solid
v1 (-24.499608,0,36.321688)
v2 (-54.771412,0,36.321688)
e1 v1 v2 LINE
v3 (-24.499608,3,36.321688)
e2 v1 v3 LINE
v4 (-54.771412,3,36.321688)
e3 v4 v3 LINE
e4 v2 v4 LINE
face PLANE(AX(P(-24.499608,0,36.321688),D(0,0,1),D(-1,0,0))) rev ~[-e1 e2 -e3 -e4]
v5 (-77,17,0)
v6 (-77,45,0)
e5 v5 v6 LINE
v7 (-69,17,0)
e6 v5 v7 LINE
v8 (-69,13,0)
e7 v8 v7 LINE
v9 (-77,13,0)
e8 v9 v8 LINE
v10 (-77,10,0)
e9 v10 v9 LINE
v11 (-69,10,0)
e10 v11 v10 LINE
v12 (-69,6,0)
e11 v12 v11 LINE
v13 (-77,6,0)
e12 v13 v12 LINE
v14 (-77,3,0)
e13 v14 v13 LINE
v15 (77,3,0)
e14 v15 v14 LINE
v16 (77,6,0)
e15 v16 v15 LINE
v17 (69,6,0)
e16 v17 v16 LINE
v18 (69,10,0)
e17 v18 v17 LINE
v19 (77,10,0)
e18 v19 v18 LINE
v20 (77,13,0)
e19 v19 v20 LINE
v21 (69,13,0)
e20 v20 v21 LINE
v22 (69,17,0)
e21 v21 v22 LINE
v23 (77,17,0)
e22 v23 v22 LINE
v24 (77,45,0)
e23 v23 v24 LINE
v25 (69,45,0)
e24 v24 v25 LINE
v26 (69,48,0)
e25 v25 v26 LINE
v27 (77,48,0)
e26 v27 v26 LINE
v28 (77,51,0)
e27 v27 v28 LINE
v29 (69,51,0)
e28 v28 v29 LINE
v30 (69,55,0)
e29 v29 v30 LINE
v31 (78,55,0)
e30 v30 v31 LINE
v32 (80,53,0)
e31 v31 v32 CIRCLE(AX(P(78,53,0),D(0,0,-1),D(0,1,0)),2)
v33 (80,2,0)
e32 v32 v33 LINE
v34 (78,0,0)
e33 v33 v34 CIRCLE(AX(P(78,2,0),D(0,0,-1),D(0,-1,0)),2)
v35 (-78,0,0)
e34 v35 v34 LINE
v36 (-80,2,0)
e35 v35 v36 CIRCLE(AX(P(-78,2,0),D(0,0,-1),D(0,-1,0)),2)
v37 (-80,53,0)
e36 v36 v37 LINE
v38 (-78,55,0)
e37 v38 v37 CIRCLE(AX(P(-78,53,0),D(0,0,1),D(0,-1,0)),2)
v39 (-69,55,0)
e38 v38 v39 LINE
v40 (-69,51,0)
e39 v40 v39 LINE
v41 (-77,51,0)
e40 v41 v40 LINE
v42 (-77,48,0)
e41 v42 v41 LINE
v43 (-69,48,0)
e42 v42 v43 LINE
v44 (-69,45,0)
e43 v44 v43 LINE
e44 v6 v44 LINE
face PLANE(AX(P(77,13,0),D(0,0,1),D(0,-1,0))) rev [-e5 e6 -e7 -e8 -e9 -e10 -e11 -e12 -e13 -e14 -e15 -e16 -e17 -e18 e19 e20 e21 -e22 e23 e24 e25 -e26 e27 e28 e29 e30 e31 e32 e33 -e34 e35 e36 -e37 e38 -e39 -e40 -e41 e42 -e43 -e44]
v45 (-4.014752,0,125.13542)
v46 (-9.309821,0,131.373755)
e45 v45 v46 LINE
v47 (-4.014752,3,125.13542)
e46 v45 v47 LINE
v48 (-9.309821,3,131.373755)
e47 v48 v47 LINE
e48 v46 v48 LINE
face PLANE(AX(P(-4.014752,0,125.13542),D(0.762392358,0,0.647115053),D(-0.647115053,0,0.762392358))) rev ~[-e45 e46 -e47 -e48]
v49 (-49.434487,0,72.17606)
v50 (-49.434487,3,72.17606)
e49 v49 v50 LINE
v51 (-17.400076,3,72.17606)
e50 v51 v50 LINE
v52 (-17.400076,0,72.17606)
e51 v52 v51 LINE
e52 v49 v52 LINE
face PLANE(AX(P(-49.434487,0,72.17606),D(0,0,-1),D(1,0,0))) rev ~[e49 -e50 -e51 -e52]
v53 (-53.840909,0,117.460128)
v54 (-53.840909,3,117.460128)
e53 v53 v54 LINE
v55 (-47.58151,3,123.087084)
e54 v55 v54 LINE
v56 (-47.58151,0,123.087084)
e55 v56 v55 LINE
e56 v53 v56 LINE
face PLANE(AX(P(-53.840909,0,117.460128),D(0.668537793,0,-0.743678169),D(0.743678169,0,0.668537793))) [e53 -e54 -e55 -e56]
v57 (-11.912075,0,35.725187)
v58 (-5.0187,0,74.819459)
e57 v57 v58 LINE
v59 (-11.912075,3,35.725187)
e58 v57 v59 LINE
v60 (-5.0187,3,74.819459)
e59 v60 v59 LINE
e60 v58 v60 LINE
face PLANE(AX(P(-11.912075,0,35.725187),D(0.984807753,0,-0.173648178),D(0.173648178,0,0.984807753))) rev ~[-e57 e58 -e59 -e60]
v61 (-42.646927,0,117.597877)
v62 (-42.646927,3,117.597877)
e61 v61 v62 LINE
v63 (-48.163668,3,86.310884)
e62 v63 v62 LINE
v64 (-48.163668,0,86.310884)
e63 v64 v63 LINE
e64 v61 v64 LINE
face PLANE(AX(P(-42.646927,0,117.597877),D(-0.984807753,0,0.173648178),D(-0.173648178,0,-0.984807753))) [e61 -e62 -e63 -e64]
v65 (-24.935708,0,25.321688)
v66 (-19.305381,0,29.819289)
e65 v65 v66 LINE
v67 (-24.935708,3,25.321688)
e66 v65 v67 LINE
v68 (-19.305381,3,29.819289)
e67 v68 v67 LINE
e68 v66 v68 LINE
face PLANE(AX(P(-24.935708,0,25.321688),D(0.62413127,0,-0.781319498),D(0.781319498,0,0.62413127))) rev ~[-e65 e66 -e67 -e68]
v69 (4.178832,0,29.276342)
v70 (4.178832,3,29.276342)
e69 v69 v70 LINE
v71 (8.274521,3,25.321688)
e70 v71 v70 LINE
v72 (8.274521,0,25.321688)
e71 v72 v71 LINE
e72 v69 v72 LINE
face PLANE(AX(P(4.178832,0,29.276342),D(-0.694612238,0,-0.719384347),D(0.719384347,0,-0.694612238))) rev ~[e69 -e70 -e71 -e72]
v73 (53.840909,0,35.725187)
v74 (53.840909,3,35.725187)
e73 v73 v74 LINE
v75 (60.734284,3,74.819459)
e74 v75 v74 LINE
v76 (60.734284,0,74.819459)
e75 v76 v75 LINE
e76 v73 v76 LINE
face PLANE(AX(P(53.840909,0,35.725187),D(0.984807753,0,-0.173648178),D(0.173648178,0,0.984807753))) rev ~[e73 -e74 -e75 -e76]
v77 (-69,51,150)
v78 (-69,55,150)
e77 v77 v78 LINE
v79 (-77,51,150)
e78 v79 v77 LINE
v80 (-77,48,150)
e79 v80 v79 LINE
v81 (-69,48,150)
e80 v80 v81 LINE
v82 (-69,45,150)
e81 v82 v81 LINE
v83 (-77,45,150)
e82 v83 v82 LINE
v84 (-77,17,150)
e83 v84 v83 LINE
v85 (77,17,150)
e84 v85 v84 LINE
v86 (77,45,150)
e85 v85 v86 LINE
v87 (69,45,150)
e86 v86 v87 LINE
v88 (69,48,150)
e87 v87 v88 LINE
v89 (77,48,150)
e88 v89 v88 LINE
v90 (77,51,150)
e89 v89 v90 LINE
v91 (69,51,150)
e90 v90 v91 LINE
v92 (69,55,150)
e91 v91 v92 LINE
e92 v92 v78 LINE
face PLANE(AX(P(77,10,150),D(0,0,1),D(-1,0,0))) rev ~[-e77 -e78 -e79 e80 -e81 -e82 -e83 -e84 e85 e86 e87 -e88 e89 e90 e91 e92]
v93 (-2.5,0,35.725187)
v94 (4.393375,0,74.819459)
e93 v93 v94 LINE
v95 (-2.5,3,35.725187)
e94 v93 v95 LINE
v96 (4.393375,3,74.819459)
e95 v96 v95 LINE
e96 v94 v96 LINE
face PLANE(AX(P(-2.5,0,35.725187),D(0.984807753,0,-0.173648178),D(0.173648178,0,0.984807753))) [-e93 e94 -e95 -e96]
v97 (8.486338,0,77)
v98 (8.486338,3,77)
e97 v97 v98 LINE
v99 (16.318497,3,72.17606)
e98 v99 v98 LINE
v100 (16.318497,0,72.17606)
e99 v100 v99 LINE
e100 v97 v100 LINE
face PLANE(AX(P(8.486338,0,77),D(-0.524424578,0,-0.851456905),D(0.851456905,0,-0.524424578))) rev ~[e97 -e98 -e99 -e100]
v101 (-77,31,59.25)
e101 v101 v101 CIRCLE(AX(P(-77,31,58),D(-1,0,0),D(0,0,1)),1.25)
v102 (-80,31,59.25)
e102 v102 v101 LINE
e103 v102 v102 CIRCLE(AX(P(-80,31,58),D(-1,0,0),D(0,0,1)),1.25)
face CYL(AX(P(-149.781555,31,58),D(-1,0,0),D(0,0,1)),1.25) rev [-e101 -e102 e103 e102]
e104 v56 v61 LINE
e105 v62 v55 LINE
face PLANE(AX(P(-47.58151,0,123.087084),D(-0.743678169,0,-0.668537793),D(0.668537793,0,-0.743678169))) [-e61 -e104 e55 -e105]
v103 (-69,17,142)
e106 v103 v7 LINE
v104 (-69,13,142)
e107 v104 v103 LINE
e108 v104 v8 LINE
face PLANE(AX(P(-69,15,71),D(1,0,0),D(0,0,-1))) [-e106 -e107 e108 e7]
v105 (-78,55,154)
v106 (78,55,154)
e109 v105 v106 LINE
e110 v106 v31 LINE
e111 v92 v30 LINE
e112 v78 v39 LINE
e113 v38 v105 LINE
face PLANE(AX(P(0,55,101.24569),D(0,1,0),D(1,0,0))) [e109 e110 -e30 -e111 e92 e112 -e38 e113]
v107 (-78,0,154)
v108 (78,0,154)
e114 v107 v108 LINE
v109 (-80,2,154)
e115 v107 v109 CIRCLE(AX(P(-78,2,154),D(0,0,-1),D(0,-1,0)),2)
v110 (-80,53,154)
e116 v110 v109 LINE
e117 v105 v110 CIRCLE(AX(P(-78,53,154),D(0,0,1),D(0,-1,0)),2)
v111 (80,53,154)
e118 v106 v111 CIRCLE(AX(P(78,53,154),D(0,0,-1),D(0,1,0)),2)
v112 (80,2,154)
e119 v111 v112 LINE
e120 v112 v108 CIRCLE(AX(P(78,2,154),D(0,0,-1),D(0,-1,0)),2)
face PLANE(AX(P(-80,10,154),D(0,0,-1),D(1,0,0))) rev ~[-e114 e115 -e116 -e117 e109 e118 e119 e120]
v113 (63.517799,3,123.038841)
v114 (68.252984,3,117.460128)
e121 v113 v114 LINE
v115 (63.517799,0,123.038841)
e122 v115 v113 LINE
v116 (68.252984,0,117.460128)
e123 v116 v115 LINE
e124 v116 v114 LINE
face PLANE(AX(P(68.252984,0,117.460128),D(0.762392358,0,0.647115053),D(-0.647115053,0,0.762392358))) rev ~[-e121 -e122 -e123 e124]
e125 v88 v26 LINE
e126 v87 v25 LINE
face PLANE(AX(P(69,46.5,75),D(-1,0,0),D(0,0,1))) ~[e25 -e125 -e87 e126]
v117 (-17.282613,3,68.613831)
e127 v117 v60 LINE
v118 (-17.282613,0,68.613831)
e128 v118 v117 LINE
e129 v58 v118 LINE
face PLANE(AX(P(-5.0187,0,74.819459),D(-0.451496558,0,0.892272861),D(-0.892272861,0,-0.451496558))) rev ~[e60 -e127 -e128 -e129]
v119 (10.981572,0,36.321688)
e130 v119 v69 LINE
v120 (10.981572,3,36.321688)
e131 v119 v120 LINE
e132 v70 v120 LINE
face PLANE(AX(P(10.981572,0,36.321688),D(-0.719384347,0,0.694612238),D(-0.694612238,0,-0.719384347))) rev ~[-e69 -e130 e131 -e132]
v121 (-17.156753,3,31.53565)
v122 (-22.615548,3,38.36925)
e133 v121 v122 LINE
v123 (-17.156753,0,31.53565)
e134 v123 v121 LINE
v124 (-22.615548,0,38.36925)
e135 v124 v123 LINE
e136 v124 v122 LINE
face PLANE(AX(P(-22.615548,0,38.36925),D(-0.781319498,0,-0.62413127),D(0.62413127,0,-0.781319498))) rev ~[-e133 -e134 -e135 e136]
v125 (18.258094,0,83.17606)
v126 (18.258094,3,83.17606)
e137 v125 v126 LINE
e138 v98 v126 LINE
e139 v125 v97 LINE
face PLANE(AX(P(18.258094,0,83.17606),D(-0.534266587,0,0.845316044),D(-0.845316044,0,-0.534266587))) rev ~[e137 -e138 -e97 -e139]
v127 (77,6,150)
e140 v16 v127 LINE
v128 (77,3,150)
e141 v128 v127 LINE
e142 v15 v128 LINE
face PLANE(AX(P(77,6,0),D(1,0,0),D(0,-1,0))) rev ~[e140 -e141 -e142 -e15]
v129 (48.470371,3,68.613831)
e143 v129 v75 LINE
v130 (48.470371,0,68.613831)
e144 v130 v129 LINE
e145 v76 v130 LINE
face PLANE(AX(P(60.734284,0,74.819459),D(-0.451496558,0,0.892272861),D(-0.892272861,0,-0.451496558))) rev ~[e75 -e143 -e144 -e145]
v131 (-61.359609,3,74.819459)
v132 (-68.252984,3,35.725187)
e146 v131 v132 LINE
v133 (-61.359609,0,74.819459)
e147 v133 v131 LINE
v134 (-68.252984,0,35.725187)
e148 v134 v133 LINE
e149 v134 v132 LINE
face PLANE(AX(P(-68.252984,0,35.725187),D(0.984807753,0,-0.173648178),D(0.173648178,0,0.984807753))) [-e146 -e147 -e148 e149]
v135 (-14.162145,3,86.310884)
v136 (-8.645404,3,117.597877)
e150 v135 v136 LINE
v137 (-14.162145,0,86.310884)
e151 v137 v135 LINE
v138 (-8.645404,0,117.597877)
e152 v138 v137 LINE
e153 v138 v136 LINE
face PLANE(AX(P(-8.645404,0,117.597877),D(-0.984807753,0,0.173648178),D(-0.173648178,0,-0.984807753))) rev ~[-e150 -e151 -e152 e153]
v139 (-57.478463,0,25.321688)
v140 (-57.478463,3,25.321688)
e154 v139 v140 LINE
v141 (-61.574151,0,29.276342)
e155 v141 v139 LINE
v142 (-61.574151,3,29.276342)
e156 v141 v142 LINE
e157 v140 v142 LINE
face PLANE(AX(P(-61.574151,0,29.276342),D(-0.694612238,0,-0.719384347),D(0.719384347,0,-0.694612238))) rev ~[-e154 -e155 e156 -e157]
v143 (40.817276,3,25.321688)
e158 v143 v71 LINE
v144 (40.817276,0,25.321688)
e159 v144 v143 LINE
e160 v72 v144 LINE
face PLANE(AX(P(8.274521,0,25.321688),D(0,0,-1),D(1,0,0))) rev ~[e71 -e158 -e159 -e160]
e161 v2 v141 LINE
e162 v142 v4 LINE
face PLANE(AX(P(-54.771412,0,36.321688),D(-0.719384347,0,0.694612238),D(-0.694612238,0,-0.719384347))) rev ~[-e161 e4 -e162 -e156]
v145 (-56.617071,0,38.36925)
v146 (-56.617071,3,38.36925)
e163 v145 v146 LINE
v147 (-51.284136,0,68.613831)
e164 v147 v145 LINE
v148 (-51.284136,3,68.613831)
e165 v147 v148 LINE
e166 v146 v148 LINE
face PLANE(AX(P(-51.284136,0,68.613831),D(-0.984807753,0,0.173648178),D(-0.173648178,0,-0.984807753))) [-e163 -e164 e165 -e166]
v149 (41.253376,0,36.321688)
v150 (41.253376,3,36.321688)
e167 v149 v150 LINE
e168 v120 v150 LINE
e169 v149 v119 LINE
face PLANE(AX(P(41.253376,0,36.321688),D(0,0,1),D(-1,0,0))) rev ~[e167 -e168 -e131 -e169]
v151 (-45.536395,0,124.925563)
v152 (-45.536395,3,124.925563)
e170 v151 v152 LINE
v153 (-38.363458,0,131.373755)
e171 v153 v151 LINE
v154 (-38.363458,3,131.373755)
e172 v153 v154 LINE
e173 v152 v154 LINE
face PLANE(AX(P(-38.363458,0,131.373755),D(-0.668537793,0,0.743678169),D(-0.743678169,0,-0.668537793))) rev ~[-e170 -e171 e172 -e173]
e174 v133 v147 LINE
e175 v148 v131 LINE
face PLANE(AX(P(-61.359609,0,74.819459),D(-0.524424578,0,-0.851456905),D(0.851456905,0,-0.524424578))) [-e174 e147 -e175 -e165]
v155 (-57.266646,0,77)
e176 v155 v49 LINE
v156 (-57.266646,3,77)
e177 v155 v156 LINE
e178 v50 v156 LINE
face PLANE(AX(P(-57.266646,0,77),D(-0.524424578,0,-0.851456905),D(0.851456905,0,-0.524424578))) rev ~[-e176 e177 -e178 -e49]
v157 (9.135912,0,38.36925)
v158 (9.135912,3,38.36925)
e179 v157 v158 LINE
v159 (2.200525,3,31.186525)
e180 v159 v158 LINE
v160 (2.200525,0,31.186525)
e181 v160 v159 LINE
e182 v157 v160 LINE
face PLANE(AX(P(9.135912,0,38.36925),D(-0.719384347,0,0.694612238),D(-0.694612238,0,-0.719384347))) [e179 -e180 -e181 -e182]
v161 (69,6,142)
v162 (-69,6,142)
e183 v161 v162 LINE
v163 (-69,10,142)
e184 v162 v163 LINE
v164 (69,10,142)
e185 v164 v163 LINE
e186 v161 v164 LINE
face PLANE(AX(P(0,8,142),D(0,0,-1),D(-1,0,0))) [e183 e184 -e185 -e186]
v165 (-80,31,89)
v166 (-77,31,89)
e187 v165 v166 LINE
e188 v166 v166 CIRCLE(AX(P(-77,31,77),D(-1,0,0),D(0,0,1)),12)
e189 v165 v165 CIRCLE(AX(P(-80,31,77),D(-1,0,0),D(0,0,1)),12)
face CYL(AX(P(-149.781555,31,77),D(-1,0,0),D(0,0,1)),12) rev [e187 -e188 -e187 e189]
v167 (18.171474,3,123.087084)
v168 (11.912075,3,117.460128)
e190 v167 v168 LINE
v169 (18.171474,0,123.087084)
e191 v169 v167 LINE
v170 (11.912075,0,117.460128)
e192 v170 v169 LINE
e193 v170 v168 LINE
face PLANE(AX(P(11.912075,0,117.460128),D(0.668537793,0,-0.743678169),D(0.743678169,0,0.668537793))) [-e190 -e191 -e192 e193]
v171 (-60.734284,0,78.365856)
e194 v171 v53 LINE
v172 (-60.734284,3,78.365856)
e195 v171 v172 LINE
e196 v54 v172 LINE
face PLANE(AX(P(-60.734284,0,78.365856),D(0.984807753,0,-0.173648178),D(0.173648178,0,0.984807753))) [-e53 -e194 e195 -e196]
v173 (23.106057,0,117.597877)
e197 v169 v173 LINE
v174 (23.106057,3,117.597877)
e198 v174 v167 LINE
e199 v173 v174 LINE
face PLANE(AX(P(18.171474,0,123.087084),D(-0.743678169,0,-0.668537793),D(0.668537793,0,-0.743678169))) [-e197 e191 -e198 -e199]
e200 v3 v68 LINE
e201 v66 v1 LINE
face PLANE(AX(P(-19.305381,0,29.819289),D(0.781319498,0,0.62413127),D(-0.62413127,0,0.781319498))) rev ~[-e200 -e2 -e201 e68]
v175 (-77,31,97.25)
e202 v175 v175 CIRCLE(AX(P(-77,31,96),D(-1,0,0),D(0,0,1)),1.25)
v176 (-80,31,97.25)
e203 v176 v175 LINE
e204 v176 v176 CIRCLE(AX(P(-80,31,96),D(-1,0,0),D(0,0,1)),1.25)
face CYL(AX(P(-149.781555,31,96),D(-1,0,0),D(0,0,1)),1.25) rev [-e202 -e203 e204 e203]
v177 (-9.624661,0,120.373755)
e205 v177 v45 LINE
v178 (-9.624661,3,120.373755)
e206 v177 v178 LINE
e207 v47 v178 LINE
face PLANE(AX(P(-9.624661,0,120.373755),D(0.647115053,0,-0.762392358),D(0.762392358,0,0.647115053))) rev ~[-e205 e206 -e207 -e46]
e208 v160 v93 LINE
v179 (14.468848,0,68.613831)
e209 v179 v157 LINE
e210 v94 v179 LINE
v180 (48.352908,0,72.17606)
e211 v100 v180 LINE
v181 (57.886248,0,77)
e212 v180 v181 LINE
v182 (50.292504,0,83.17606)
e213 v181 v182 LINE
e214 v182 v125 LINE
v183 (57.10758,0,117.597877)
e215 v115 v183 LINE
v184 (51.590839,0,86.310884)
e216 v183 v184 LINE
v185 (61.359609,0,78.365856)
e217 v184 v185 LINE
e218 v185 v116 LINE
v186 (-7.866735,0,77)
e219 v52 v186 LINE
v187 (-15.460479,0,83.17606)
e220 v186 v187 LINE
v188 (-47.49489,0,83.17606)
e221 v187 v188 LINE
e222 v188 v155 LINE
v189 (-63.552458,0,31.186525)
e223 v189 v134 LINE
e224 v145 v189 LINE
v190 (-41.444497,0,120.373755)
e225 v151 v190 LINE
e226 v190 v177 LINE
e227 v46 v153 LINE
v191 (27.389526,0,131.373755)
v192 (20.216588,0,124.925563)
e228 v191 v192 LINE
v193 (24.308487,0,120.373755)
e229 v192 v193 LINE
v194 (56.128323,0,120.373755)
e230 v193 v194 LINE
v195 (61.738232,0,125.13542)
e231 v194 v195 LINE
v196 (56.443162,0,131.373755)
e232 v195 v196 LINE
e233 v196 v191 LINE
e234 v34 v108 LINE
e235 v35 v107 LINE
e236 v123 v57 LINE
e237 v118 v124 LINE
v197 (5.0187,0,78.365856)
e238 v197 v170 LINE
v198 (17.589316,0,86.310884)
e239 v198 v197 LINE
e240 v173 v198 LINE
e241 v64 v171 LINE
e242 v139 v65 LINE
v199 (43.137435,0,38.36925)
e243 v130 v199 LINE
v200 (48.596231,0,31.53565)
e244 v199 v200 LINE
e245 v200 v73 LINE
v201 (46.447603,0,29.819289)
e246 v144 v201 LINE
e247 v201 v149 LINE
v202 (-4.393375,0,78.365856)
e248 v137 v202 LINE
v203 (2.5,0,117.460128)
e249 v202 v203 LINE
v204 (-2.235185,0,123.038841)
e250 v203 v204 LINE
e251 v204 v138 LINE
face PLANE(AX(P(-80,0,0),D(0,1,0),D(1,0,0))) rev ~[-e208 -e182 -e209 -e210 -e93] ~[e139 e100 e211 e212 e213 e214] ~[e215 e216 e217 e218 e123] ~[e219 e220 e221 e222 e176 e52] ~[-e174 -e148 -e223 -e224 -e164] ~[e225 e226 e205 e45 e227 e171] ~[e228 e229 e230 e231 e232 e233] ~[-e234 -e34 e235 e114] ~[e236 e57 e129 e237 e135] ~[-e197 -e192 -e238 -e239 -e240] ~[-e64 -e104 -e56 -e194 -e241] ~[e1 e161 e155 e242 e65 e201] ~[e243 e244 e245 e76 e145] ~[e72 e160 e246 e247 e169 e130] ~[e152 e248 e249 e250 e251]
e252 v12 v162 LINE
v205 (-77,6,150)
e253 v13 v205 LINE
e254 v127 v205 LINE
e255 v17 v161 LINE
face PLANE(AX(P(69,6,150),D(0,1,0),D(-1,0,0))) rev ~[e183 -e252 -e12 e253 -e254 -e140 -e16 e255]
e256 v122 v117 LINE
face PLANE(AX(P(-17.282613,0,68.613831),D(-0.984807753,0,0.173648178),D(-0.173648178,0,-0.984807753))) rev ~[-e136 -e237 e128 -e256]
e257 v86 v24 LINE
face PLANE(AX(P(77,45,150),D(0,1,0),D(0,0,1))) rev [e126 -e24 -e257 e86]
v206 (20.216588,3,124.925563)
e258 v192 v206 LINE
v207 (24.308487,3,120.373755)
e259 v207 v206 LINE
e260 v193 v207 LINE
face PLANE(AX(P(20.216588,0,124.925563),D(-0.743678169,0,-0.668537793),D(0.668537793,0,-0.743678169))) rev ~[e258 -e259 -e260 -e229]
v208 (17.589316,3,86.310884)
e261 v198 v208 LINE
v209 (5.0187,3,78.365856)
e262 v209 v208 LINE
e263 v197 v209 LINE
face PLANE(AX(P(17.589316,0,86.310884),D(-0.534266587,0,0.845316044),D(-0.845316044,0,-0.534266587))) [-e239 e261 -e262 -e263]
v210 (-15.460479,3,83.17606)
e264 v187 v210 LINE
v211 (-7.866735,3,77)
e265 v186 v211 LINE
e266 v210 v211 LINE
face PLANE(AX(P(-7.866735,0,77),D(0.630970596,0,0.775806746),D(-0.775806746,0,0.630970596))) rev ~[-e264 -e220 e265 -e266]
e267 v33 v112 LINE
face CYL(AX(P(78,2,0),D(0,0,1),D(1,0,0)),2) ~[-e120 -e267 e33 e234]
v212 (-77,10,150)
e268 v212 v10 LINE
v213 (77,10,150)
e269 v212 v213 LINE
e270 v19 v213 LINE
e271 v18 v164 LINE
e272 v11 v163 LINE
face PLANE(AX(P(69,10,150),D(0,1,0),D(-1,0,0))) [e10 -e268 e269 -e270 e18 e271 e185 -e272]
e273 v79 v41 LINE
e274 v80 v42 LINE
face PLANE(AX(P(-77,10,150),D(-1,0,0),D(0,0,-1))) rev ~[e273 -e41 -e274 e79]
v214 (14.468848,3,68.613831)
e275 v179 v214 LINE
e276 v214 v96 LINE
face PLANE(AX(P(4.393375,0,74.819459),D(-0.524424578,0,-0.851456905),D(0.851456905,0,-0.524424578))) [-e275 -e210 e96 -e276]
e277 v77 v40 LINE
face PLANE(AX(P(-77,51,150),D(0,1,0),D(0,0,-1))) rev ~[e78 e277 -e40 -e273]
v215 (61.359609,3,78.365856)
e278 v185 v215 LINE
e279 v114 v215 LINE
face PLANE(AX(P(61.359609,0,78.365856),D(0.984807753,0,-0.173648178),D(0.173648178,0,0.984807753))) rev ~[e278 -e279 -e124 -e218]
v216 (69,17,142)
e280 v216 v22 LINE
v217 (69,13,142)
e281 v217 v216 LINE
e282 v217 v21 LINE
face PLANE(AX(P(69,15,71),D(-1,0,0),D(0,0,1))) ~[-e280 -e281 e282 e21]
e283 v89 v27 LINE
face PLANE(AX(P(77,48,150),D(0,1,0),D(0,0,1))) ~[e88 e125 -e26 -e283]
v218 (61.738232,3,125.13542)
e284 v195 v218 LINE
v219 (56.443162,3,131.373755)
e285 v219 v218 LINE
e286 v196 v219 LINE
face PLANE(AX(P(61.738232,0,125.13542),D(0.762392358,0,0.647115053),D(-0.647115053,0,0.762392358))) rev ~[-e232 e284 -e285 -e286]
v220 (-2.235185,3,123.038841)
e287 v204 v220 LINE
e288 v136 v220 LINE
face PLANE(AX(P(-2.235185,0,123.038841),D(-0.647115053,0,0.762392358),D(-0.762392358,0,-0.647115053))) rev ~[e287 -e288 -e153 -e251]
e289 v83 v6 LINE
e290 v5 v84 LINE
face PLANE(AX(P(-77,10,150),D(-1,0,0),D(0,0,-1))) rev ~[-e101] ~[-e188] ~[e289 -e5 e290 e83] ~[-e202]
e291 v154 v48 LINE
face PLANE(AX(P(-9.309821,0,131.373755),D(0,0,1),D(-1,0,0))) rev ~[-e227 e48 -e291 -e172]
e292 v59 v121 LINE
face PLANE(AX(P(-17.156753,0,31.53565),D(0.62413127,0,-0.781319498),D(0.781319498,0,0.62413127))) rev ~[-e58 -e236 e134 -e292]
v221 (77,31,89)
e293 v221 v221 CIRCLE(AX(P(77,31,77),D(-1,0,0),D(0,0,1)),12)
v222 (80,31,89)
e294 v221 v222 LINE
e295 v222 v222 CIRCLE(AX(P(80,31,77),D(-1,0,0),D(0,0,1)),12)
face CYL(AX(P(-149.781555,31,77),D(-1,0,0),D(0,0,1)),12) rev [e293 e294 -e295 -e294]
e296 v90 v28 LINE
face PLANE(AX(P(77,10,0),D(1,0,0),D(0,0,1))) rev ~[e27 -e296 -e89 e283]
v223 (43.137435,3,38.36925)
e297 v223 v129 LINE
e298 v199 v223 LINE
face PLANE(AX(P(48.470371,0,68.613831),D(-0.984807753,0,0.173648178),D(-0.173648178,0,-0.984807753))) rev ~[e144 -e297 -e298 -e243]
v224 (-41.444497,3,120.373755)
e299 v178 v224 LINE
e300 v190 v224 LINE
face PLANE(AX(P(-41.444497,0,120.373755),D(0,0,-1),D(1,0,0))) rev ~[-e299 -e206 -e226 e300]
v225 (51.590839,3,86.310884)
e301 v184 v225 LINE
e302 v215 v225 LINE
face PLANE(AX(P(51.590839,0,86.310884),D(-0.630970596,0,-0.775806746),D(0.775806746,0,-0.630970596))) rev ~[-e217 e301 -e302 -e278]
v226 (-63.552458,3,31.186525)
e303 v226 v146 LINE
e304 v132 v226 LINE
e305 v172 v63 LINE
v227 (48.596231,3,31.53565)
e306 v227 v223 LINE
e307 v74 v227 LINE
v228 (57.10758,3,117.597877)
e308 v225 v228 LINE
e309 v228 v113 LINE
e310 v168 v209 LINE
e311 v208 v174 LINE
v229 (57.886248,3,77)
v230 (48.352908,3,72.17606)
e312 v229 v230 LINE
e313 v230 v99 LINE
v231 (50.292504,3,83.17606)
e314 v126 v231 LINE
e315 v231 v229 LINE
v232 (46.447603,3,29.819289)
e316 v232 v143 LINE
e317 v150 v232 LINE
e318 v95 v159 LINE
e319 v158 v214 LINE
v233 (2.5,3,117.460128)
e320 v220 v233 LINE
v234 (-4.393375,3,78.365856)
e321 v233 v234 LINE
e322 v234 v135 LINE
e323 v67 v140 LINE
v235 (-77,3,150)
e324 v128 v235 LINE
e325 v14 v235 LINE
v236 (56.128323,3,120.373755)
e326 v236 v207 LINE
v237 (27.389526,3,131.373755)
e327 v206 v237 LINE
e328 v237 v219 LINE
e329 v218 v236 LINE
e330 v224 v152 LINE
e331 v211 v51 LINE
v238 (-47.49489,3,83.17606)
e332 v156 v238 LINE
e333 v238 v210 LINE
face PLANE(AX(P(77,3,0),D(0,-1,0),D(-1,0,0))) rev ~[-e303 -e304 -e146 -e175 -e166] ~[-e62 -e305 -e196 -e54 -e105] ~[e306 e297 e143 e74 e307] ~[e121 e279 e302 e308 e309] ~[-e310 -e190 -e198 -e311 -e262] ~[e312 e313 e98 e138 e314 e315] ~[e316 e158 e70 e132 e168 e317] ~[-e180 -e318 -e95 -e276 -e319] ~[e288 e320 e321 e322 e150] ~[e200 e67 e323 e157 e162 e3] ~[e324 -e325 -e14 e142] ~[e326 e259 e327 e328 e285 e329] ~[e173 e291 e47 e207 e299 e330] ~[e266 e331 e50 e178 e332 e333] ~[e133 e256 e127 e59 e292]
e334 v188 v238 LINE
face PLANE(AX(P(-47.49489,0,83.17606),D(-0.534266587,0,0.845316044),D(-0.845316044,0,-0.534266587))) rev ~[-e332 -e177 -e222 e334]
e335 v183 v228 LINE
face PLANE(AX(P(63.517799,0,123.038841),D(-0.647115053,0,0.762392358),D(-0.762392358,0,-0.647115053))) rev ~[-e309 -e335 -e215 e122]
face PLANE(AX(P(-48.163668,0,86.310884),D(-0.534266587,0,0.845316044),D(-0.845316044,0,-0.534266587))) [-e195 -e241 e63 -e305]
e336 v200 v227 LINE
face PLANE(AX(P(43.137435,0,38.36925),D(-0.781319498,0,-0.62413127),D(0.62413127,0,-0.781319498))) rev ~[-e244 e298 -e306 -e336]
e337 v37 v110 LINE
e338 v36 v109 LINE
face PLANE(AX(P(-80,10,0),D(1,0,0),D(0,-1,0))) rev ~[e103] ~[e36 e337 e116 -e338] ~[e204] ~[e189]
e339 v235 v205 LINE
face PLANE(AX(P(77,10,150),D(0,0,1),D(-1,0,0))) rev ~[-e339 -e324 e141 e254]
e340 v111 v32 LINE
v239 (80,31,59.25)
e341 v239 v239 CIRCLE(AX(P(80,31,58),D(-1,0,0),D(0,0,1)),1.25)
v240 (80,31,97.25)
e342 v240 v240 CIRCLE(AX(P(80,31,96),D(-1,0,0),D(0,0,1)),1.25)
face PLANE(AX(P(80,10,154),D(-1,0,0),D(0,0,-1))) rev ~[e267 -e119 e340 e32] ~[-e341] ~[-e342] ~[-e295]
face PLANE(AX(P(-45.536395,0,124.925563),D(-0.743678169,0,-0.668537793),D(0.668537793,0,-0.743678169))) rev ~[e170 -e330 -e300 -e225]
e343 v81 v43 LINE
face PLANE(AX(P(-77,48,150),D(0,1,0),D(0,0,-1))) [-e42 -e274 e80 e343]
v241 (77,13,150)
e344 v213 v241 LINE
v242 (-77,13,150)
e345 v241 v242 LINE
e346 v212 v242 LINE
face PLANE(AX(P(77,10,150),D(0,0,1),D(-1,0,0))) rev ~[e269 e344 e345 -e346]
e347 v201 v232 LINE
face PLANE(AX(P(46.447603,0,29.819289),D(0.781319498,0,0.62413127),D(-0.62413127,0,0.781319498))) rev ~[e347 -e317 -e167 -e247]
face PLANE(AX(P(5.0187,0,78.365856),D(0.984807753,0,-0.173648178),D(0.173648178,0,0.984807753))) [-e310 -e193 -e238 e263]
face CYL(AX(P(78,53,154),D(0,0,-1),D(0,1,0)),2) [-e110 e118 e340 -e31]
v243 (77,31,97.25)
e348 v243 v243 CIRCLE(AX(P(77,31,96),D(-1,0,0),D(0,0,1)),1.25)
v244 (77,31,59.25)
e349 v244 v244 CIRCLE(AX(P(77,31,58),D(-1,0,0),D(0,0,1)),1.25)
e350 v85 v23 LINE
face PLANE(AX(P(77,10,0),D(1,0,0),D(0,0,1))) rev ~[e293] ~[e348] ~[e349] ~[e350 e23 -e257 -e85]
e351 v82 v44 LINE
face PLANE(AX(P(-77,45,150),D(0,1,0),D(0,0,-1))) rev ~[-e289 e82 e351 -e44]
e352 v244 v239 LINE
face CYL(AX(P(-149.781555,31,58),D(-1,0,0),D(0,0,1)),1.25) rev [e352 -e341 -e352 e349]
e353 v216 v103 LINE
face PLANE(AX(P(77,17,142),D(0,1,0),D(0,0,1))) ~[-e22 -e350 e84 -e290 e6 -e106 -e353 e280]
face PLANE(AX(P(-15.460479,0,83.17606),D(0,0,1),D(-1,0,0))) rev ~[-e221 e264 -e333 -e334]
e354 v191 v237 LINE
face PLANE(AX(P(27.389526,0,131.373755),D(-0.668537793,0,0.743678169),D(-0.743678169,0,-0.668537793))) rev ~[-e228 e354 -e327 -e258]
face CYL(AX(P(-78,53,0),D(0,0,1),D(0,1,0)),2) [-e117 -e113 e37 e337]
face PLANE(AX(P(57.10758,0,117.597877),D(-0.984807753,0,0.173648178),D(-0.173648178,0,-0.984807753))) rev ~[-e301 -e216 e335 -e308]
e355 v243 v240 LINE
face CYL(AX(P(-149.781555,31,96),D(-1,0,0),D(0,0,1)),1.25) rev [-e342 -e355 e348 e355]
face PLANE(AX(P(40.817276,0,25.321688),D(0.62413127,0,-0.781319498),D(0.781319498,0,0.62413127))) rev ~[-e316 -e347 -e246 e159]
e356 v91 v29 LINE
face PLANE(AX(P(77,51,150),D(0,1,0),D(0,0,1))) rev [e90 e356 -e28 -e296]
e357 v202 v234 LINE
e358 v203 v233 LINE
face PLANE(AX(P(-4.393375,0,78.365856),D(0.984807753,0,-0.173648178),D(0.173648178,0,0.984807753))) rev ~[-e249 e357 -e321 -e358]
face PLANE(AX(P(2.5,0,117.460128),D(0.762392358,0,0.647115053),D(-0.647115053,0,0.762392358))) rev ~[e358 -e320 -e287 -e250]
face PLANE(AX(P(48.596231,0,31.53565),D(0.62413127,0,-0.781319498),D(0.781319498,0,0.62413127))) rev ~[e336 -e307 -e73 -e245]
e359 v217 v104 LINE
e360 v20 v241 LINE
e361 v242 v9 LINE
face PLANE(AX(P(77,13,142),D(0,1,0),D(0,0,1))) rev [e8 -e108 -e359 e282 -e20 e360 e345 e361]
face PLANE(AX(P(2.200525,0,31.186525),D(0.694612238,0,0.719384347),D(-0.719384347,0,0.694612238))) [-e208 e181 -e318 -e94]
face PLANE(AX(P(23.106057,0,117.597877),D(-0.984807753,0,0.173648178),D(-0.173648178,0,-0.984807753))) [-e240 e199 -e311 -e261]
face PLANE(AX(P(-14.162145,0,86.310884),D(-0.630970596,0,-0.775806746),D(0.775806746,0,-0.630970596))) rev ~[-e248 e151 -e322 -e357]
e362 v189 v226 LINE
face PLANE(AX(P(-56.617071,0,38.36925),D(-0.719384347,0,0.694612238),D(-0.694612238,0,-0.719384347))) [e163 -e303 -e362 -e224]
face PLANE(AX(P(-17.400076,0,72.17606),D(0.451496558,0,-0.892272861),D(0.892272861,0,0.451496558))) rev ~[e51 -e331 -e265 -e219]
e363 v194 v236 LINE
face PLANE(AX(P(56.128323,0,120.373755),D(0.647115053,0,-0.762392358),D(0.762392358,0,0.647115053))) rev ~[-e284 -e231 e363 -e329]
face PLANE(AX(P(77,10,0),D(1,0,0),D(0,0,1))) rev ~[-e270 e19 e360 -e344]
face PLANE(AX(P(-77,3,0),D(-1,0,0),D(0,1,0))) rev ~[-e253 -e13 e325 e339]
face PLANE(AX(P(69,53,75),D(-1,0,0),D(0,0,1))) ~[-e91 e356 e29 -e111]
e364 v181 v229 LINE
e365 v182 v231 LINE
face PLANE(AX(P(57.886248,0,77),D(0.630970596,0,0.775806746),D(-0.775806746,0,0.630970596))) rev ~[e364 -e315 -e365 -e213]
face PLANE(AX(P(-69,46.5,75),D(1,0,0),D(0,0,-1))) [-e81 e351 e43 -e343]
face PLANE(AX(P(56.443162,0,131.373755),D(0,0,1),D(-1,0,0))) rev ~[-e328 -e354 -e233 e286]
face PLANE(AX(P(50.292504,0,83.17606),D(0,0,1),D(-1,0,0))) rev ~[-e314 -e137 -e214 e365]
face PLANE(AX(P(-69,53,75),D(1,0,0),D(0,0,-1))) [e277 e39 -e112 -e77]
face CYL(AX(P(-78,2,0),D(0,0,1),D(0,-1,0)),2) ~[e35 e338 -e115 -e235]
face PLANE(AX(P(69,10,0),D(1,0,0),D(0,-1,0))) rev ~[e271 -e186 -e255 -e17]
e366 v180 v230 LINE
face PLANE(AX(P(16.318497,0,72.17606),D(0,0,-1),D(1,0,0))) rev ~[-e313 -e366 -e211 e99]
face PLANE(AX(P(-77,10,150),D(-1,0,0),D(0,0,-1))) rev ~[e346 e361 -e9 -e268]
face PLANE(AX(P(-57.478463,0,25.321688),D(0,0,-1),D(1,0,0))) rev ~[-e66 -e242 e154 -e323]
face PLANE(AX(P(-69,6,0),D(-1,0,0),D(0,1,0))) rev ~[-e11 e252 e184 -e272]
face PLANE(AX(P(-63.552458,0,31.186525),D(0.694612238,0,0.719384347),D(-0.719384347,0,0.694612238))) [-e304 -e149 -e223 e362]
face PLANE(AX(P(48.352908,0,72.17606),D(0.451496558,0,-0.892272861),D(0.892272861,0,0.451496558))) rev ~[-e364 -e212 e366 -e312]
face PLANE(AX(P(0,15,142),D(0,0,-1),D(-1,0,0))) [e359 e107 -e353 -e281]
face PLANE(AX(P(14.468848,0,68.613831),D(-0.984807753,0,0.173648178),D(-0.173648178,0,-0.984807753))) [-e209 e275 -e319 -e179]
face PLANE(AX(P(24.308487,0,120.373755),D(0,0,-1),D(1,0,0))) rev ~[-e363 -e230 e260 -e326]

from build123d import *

# Parameters (mm, degrees)
BOSS_EXTRUDE4_DEPTH             = 154
BOSS_EXTRUDE5_REACH             = 216.516
SKETCH11_W                      = 4
SKETCH11_H                      = 7
BOSS_EXTRUDE5_DIRECTION_2_REACH = 216.516
BOSS_EXTRUDE6_DEPTH             = 45
SKETCH15_W                      = 138
SKETCH15_H                      = 4
SKETCH15_W_2                    = 154
BOSS_EXTRUDE7_DEPTH             = 8
SKETCH16_W                      = 150
SKETCH16_H                      = 3
SKETCH16_W_2                    = 142
SKETCH16_H_2                    = 4
BOSS_EXTRUDE8_DEPTH             = 8
CUT_EXTRUDE2_DEPTH              = 229.781555201
CUT_EXTRUDE2_DEPTH_BACK         = 229.781555201
SKETCH19_R                      = 12
SKETCH19_R_2                    = 1.25
CUT_EXTRUDE3_REACH              = 184.047
FILLET3_R                       = 2


with BuildPart() as part:
    # Sketch3 → Boss-Extrude4 (new body)
    with BuildSketch(Plane.XY):
        Polygon((-80, 0), (80, 0), (80, 10), (69, 10), (69, 6), (77, 6), (77, 3), (-77, 3), (-77, 6), (-69, 6), (-69, 10), (-80, 10), align=None)
    extrude(amount=BOSS_EXTRUDE4_DEPTH)

    # Sketch11 → Boss-Extrude5 (add, up to next)
    with BuildSketch(Plane(origin=(-69, 0, 0), x_dir=(0, 0, -1), z_dir=(1, 0, 0)), mode=Mode.PRIVATE) as boss_extrude5_sk1:
        with Locations((-152, 6.5)):
            Rectangle(SKETCH11_W, SKETCH11_H)
    boss_extrude5_tool1 = extrude(boss_extrude5_sk1.sketch, amount=BOSS_EXTRUDE5_REACH, mode=Mode.PRIVATE) - part.part
    add(boss_extrude5_tool1.solids().sort_by_distance((-69, 6.5, 152))[0])

    # Sketch11 → Boss-Extrude5 direction 2 (add, up to next)
    with BuildSketch(Plane(origin=(-69, 0, 0), x_dir=(0, 0, -1), z_dir=(1, 0, 0)), mode=Mode.PRIVATE) as boss_extrude5_direction_2_sk1:
        with Locations((-152, 6.5)):
            Rectangle(SKETCH11_W, SKETCH11_H)
    boss_extrude5_direction_2_tool1 = extrude(boss_extrude5_direction_2_sk1.sketch, amount=-BOSS_EXTRUDE5_DIRECTION_2_REACH, mode=Mode.PRIVATE) - part.part
    add(boss_extrude5_direction_2_tool1.solids().sort_by_distance((-69, 6.5, 152))[0])

    # Sketch13 → Boss-Extrude6 (add)
    with BuildSketch(Plane(origin=(0, 10, 0), x_dir=(1, 0, 0), z_dir=(0, 1, 0))):
        Polygon((80, 0), (77, 0), (77, -150), (-77, -150), (-77, 0), (-80, 0), (-80, -154), (80, -154), align=None)
    extrude(amount=BOSS_EXTRUDE6_DEPTH)

    # Sketch15 → Boss-Extrude7 (add)
    with BuildSketch(Plane(origin=(0, 0, 150), x_dir=(-1, 0, 0), z_dir=(0, 0, -1))):
        with Locations((0, 8)):
            Rectangle(SKETCH15_W, SKETCH15_H)
        with Locations((0, 15)):
            Rectangle(SKETCH15_W_2, SKETCH15_H)
    extrude(amount=BOSS_EXTRUDE7_DEPTH)

    # Sketch16 → Boss-Extrude8 (add)
    with BuildSketch(Plane(origin=(-77, 0, 0), x_dir=(0, 0, -1), z_dir=(1, 0, 0))):
        with Locations((-75, 46.5)):
            Rectangle(SKETCH16_W, SKETCH16_H)
        with Locations((-71, 15)):
            Rectangle(SKETCH16_W_2, SKETCH16_H_2)
        with Locations((-75, 53)):
            Rectangle(SKETCH16_W, SKETCH16_H_2)
    boss_extrude8 = extrude(amount=BOSS_EXTRUDE8_DEPTH)

    # Mirror1: Boss-Extrude8 across plane
    add(boss_extrude8.mirror(Plane(origin=(0, 0, 0), x_dir=(0, 0, 1), z_dir=(1, 0, 0))))

    # Sketch19 → Cut-Extrude2 (cut, two sides: drawn at the far end of the back side and taken through both)
    with BuildSketch(Plane(origin=(80, 0, 0), x_dir=(0, 0, -1), z_dir=(1, 0, 0)).offset(-CUT_EXTRUDE2_DEPTH_BACK)):
        with Locations(Location((-77, 31, 0), (0, 0, 180))):
            Circle(SKETCH19_R)
        with Locations(Location((-58, 31, 0), (0, 0, 180))):
            Circle(SKETCH19_R_2)
        with Locations(Location((-96, 31, 0), (0, 0, 180))):
            Circle(SKETCH19_R_2)
    extrude(amount=CUT_EXTRUDE2_DEPTH + CUT_EXTRUDE2_DEPTH_BACK, mode=Mode.SUBTRACT)

    # Sketch27 → Cut-Extrude3 (cut, up to next)
    with BuildSketch(Plane.XZ, mode=Mode.PRIVATE) as cut_extrude3_sk1:
        Polygon((-57.47846256, 25.321688373), (-24.93570827, 25.321688373), (-19.305381247, 29.819289123), (-24.499608086, 36.321688373), (-54.771412112, 36.321688373), (-61.574151377, 29.276341528), align=None)
    cut_extrude3_tool1 = extrude(cut_extrude3_sk1.sketch, amount=-CUT_EXTRUDE3_REACH, mode=Mode.PRIVATE) & part.part
    # Sketch27 → Cut-Extrude3 (cut, up to next)
    with BuildSketch(Plane.XZ, mode=Mode.PRIVATE) as cut_extrude3_sk2:
        Polygon((-56.617071459, 38.369250276), (-63.55245833, 31.186525183), (-68.252983819, 35.725187368), (-61.359608852, 74.819459497), (-51.28413594, 68.613830533), align=None)
    cut_extrude3_tool2 = extrude(cut_extrude3_sk2.sketch, amount=-CUT_EXTRUDE3_REACH, mode=Mode.PRIVATE) & part.part
    # Sketch27 → Cut-Extrude3 (cut, up to next)
    with BuildSketch(Plane.XZ, mode=Mode.PRIVATE) as cut_extrude3_sk3:
        Polygon((-22.615548373, 38.369250276), (-17.156752628, 31.535650116), (-11.912075272, 35.725187368), (-5.018700304, 74.819459497), (-17.282612854, 68.613830533), align=None)
    cut_extrude3_tool3 = extrude(cut_extrude3_sk3.sketch, amount=-CUT_EXTRUDE3_REACH, mode=Mode.PRIVATE) & part.part
    # Sketch27 → Cut-Extrude3 (cut, up to next)
    with BuildSketch(Plane.XZ, mode=Mode.PRIVATE) as cut_extrude3_sk4:
        Polygon((-57.266645874, 77), (-49.434486563, 72.176060211), (-17.400076182, 72.176060211), (-7.866735395, 77), (-15.460479394, 83.176060211), (-47.494889775, 83.176060211), align=None)
    cut_extrude3_tool4 = extrude(cut_extrude3_sk4.sketch, amount=-CUT_EXTRUDE3_REACH, mode=Mode.PRIVATE) & part.part
    # Sketch27 → Cut-Extrude3 (cut, up to next)
    with BuildSketch(Plane.XZ, mode=Mode.PRIVATE) as cut_extrude3_sk5:
        Polygon((-60.734283515, 78.365855711), (-53.840908548, 117.46012784), (-47.581510302, 123.087083774), (-42.646926869, 117.59787731), (-48.163667933, 86.310884009), align=None)
    cut_extrude3_tool5 = extrude(cut_extrude3_sk5.sketch, amount=-CUT_EXTRUDE3_REACH, mode=Mode.PRIVATE) & part.part
    # Sketch27 → Cut-Extrude3 (cut, up to next)
    with BuildSketch(Plane.XZ, mode=Mode.PRIVATE) as cut_extrude3_sk6:
        Polygon((-14.162144847, 86.310884009), (-4.393374967, 78.365855711), (2.5, 117.46012784), (-2.235185266, 123.038840685), (-8.645403783, 117.59787731), align=None)
    cut_extrude3_tool6 = extrude(cut_extrude3_sk6.sketch, amount=-CUT_EXTRUDE3_REACH, mode=Mode.PRIVATE) & part.part
    # Sketch27 → Cut-Extrude3 (cut, up to next)
    with BuildSketch(Plane.XZ, mode=Mode.PRIVATE) as cut_extrude3_sk7:
        Polygon((-45.536395336, 124.925562704), (-41.444496972, 120.373754987), (-9.624660978, 120.373754987), (-4.014751663, 125.13541967), (-9.309821385, 131.373754987), (-38.363457794, 131.373754987), align=None)
    cut_extrude3_tool7 = extrude(cut_extrude3_sk7.sketch, amount=-CUT_EXTRUDE3_REACH, mode=Mode.PRIVATE) & part.part
    # Sketch27 → Cut-Extrude3 (cut, up to next)
    with BuildSketch(Plane.XZ, mode=Mode.PRIVATE) as cut_extrude3_sk8:
        Polygon((8.274521259, 25.321688373), (40.817275549, 25.321688373), (46.447602573, 29.819289123), (41.253375733, 36.321688373), (10.981571707, 36.321688373), (4.178832443, 29.276341528), align=None)
    cut_extrude3_tool8 = extrude(cut_extrude3_sk8.sketch, amount=-CUT_EXTRUDE3_REACH, mode=Mode.PRIVATE) & part.part
    # Sketch27 → Cut-Extrude3 (cut, up to next)
    with BuildSketch(Plane.XZ, mode=Mode.PRIVATE) as cut_extrude3_sk9:
        Polygon((9.13591236, 38.369250276), (2.200525489, 31.186525183), (-2.5, 35.725187368), (4.393374967, 74.819459497), (14.46884788, 68.613830533), align=None)
    cut_extrude3_tool9 = extrude(cut_extrude3_sk9.sketch, amount=-CUT_EXTRUDE3_REACH, mode=Mode.PRIVATE) & part.part
    # Sketch27 → Cut-Extrude3 (cut, up to next)
    with BuildSketch(Plane.XZ, mode=Mode.PRIVATE) as cut_extrude3_sk10:
        Polygon((43.137435446, 38.369250276), (48.596231191, 31.535650116), (53.840908548, 35.725187368), (60.734283515, 74.819459497), (48.470370966, 68.613830533), align=None)
    cut_extrude3_tool10 = extrude(cut_extrude3_sk10.sketch, amount=-CUT_EXTRUDE3_REACH, mode=Mode.PRIVATE) & part.part
    # Sketch27 → Cut-Extrude3 (cut, up to next)
    with BuildSketch(Plane.XZ, mode=Mode.PRIVATE) as cut_extrude3_sk11:
        Polygon((8.486337945, 77), (16.318497257, 72.176060211), (48.352907637, 72.176060211), (57.886248425, 77), (50.292504425, 83.176060211), (18.258094045, 83.176060211), align=None)
    cut_extrude3_tool11 = extrude(cut_extrude3_sk11.sketch, amount=-CUT_EXTRUDE3_REACH, mode=Mode.PRIVATE) & part.part
    # Sketch27 → Cut-Extrude3 (cut, up to next)
    with BuildSketch(Plane.XZ, mode=Mode.PRIVATE) as cut_extrude3_sk12:
        Polygon((5.018700304, 78.365855711), (11.912075272, 117.46012784), (18.171473518, 123.087083774), (23.106056951, 117.59787731), (17.589315886, 86.310884009), align=None)
    cut_extrude3_tool12 = extrude(cut_extrude3_sk12.sketch, amount=-CUT_EXTRUDE3_REACH, mode=Mode.PRIVATE) & part.part
    # Sketch27 → Cut-Extrude3 (cut, up to next)
    with BuildSketch(Plane.XZ, mode=Mode.PRIVATE) as cut_extrude3_sk13:
        Polygon((51.590838973, 86.310884009), (61.359608852, 78.365855711), (68.252983819, 117.46012784), (63.517798554, 123.038840685), (57.107580037, 117.59787731), align=None)
    cut_extrude3_tool13 = extrude(cut_extrude3_sk13.sketch, amount=-CUT_EXTRUDE3_REACH, mode=Mode.PRIVATE) & part.part
    # Sketch27 → Cut-Extrude3 (cut, up to next)
    with BuildSketch(Plane.XZ, mode=Mode.PRIVATE) as cut_extrude3_sk14:
        Polygon((20.216588483, 124.925562704), (24.308486848, 120.373754987), (56.128322842, 120.373754987), (61.738232157, 125.13541967), (56.443162434, 131.373754987), (27.389526025, 131.373754987), align=None)
    cut_extrude3_tool14 = extrude(cut_extrude3_sk14.sketch, amount=-CUT_EXTRUDE3_REACH, mode=Mode.PRIVATE) & part.part
    add(cut_extrude3_tool1.solids().sort_by_distance((-40.338799, 0, 30.704471))[0], mode=Mode.SUBTRACT)
    add(cut_extrude3_tool2.solids().sort_by_distance((-59.857835, 0, 52.918339))[0], mode=Mode.SUBTRACT)
    add(cut_extrude3_tool3.solids().sort_by_distance((-14.193031, 0, 53.066237))[0], mode=Mode.SUBTRACT)
    add(cut_extrude3_tool4.solids().sort_by_distance((-32.455956, 0, 77.628005))[0], mode=Mode.SUBTRACT)
    add(cut_extrude3_tool5.solids().sort_by_distance((-51.306641, 0, 101.288791))[0], mode=Mode.SUBTRACT)
    add(cut_extrude3_tool6.solids().sort_by_distance((-5.750482, 0, 101.274794))[0], mode=Mode.SUBTRACT)
    add(cut_extrude3_tool7.solids().sort_by_distance((-24.675646, 0, 125.760601))[0], mode=Mode.SUBTRACT)
    add(cut_extrude3_tool8.solids().sort_by_distance((25.414185, 0, 30.704471))[0], mode=Mode.SUBTRACT)
    add(cut_extrude3_tool9.solids().sort_by_distance((5.895149, 0, 52.918339))[0], mode=Mode.SUBTRACT)
    add(cut_extrude3_tool10.solids().sort_by_distance((51.559953, 0, 53.066237))[0], mode=Mode.SUBTRACT)
    add(cut_extrude3_tool11.solids().sort_by_distance((33.297027, 0, 77.628005))[0], mode=Mode.SUBTRACT)
    add(cut_extrude3_tool12.solids().sort_by_distance((14.446343, 0, 101.288791))[0], mode=Mode.SUBTRACT)
    add(cut_extrude3_tool13.solids().sort_by_distance((60.002501, 0, 101.274794))[0], mode=Mode.SUBTRACT)
    add(cut_extrude3_tool14.solids().sort_by_distance((41.077338, 0, 125.760601))[0], mode=Mode.SUBTRACT)

    # Fillet3
    fillet3_edges = [part.edges().sort_by_distance(p)[0] for p in [
        (-80, 0, 77),
        (80, 0, 77),
        (80, 55, 77),
        (-80, 55, 77),
    ]]
    fillet(fillet3_edges, radius=FILLET3_R)


solid = part.part
